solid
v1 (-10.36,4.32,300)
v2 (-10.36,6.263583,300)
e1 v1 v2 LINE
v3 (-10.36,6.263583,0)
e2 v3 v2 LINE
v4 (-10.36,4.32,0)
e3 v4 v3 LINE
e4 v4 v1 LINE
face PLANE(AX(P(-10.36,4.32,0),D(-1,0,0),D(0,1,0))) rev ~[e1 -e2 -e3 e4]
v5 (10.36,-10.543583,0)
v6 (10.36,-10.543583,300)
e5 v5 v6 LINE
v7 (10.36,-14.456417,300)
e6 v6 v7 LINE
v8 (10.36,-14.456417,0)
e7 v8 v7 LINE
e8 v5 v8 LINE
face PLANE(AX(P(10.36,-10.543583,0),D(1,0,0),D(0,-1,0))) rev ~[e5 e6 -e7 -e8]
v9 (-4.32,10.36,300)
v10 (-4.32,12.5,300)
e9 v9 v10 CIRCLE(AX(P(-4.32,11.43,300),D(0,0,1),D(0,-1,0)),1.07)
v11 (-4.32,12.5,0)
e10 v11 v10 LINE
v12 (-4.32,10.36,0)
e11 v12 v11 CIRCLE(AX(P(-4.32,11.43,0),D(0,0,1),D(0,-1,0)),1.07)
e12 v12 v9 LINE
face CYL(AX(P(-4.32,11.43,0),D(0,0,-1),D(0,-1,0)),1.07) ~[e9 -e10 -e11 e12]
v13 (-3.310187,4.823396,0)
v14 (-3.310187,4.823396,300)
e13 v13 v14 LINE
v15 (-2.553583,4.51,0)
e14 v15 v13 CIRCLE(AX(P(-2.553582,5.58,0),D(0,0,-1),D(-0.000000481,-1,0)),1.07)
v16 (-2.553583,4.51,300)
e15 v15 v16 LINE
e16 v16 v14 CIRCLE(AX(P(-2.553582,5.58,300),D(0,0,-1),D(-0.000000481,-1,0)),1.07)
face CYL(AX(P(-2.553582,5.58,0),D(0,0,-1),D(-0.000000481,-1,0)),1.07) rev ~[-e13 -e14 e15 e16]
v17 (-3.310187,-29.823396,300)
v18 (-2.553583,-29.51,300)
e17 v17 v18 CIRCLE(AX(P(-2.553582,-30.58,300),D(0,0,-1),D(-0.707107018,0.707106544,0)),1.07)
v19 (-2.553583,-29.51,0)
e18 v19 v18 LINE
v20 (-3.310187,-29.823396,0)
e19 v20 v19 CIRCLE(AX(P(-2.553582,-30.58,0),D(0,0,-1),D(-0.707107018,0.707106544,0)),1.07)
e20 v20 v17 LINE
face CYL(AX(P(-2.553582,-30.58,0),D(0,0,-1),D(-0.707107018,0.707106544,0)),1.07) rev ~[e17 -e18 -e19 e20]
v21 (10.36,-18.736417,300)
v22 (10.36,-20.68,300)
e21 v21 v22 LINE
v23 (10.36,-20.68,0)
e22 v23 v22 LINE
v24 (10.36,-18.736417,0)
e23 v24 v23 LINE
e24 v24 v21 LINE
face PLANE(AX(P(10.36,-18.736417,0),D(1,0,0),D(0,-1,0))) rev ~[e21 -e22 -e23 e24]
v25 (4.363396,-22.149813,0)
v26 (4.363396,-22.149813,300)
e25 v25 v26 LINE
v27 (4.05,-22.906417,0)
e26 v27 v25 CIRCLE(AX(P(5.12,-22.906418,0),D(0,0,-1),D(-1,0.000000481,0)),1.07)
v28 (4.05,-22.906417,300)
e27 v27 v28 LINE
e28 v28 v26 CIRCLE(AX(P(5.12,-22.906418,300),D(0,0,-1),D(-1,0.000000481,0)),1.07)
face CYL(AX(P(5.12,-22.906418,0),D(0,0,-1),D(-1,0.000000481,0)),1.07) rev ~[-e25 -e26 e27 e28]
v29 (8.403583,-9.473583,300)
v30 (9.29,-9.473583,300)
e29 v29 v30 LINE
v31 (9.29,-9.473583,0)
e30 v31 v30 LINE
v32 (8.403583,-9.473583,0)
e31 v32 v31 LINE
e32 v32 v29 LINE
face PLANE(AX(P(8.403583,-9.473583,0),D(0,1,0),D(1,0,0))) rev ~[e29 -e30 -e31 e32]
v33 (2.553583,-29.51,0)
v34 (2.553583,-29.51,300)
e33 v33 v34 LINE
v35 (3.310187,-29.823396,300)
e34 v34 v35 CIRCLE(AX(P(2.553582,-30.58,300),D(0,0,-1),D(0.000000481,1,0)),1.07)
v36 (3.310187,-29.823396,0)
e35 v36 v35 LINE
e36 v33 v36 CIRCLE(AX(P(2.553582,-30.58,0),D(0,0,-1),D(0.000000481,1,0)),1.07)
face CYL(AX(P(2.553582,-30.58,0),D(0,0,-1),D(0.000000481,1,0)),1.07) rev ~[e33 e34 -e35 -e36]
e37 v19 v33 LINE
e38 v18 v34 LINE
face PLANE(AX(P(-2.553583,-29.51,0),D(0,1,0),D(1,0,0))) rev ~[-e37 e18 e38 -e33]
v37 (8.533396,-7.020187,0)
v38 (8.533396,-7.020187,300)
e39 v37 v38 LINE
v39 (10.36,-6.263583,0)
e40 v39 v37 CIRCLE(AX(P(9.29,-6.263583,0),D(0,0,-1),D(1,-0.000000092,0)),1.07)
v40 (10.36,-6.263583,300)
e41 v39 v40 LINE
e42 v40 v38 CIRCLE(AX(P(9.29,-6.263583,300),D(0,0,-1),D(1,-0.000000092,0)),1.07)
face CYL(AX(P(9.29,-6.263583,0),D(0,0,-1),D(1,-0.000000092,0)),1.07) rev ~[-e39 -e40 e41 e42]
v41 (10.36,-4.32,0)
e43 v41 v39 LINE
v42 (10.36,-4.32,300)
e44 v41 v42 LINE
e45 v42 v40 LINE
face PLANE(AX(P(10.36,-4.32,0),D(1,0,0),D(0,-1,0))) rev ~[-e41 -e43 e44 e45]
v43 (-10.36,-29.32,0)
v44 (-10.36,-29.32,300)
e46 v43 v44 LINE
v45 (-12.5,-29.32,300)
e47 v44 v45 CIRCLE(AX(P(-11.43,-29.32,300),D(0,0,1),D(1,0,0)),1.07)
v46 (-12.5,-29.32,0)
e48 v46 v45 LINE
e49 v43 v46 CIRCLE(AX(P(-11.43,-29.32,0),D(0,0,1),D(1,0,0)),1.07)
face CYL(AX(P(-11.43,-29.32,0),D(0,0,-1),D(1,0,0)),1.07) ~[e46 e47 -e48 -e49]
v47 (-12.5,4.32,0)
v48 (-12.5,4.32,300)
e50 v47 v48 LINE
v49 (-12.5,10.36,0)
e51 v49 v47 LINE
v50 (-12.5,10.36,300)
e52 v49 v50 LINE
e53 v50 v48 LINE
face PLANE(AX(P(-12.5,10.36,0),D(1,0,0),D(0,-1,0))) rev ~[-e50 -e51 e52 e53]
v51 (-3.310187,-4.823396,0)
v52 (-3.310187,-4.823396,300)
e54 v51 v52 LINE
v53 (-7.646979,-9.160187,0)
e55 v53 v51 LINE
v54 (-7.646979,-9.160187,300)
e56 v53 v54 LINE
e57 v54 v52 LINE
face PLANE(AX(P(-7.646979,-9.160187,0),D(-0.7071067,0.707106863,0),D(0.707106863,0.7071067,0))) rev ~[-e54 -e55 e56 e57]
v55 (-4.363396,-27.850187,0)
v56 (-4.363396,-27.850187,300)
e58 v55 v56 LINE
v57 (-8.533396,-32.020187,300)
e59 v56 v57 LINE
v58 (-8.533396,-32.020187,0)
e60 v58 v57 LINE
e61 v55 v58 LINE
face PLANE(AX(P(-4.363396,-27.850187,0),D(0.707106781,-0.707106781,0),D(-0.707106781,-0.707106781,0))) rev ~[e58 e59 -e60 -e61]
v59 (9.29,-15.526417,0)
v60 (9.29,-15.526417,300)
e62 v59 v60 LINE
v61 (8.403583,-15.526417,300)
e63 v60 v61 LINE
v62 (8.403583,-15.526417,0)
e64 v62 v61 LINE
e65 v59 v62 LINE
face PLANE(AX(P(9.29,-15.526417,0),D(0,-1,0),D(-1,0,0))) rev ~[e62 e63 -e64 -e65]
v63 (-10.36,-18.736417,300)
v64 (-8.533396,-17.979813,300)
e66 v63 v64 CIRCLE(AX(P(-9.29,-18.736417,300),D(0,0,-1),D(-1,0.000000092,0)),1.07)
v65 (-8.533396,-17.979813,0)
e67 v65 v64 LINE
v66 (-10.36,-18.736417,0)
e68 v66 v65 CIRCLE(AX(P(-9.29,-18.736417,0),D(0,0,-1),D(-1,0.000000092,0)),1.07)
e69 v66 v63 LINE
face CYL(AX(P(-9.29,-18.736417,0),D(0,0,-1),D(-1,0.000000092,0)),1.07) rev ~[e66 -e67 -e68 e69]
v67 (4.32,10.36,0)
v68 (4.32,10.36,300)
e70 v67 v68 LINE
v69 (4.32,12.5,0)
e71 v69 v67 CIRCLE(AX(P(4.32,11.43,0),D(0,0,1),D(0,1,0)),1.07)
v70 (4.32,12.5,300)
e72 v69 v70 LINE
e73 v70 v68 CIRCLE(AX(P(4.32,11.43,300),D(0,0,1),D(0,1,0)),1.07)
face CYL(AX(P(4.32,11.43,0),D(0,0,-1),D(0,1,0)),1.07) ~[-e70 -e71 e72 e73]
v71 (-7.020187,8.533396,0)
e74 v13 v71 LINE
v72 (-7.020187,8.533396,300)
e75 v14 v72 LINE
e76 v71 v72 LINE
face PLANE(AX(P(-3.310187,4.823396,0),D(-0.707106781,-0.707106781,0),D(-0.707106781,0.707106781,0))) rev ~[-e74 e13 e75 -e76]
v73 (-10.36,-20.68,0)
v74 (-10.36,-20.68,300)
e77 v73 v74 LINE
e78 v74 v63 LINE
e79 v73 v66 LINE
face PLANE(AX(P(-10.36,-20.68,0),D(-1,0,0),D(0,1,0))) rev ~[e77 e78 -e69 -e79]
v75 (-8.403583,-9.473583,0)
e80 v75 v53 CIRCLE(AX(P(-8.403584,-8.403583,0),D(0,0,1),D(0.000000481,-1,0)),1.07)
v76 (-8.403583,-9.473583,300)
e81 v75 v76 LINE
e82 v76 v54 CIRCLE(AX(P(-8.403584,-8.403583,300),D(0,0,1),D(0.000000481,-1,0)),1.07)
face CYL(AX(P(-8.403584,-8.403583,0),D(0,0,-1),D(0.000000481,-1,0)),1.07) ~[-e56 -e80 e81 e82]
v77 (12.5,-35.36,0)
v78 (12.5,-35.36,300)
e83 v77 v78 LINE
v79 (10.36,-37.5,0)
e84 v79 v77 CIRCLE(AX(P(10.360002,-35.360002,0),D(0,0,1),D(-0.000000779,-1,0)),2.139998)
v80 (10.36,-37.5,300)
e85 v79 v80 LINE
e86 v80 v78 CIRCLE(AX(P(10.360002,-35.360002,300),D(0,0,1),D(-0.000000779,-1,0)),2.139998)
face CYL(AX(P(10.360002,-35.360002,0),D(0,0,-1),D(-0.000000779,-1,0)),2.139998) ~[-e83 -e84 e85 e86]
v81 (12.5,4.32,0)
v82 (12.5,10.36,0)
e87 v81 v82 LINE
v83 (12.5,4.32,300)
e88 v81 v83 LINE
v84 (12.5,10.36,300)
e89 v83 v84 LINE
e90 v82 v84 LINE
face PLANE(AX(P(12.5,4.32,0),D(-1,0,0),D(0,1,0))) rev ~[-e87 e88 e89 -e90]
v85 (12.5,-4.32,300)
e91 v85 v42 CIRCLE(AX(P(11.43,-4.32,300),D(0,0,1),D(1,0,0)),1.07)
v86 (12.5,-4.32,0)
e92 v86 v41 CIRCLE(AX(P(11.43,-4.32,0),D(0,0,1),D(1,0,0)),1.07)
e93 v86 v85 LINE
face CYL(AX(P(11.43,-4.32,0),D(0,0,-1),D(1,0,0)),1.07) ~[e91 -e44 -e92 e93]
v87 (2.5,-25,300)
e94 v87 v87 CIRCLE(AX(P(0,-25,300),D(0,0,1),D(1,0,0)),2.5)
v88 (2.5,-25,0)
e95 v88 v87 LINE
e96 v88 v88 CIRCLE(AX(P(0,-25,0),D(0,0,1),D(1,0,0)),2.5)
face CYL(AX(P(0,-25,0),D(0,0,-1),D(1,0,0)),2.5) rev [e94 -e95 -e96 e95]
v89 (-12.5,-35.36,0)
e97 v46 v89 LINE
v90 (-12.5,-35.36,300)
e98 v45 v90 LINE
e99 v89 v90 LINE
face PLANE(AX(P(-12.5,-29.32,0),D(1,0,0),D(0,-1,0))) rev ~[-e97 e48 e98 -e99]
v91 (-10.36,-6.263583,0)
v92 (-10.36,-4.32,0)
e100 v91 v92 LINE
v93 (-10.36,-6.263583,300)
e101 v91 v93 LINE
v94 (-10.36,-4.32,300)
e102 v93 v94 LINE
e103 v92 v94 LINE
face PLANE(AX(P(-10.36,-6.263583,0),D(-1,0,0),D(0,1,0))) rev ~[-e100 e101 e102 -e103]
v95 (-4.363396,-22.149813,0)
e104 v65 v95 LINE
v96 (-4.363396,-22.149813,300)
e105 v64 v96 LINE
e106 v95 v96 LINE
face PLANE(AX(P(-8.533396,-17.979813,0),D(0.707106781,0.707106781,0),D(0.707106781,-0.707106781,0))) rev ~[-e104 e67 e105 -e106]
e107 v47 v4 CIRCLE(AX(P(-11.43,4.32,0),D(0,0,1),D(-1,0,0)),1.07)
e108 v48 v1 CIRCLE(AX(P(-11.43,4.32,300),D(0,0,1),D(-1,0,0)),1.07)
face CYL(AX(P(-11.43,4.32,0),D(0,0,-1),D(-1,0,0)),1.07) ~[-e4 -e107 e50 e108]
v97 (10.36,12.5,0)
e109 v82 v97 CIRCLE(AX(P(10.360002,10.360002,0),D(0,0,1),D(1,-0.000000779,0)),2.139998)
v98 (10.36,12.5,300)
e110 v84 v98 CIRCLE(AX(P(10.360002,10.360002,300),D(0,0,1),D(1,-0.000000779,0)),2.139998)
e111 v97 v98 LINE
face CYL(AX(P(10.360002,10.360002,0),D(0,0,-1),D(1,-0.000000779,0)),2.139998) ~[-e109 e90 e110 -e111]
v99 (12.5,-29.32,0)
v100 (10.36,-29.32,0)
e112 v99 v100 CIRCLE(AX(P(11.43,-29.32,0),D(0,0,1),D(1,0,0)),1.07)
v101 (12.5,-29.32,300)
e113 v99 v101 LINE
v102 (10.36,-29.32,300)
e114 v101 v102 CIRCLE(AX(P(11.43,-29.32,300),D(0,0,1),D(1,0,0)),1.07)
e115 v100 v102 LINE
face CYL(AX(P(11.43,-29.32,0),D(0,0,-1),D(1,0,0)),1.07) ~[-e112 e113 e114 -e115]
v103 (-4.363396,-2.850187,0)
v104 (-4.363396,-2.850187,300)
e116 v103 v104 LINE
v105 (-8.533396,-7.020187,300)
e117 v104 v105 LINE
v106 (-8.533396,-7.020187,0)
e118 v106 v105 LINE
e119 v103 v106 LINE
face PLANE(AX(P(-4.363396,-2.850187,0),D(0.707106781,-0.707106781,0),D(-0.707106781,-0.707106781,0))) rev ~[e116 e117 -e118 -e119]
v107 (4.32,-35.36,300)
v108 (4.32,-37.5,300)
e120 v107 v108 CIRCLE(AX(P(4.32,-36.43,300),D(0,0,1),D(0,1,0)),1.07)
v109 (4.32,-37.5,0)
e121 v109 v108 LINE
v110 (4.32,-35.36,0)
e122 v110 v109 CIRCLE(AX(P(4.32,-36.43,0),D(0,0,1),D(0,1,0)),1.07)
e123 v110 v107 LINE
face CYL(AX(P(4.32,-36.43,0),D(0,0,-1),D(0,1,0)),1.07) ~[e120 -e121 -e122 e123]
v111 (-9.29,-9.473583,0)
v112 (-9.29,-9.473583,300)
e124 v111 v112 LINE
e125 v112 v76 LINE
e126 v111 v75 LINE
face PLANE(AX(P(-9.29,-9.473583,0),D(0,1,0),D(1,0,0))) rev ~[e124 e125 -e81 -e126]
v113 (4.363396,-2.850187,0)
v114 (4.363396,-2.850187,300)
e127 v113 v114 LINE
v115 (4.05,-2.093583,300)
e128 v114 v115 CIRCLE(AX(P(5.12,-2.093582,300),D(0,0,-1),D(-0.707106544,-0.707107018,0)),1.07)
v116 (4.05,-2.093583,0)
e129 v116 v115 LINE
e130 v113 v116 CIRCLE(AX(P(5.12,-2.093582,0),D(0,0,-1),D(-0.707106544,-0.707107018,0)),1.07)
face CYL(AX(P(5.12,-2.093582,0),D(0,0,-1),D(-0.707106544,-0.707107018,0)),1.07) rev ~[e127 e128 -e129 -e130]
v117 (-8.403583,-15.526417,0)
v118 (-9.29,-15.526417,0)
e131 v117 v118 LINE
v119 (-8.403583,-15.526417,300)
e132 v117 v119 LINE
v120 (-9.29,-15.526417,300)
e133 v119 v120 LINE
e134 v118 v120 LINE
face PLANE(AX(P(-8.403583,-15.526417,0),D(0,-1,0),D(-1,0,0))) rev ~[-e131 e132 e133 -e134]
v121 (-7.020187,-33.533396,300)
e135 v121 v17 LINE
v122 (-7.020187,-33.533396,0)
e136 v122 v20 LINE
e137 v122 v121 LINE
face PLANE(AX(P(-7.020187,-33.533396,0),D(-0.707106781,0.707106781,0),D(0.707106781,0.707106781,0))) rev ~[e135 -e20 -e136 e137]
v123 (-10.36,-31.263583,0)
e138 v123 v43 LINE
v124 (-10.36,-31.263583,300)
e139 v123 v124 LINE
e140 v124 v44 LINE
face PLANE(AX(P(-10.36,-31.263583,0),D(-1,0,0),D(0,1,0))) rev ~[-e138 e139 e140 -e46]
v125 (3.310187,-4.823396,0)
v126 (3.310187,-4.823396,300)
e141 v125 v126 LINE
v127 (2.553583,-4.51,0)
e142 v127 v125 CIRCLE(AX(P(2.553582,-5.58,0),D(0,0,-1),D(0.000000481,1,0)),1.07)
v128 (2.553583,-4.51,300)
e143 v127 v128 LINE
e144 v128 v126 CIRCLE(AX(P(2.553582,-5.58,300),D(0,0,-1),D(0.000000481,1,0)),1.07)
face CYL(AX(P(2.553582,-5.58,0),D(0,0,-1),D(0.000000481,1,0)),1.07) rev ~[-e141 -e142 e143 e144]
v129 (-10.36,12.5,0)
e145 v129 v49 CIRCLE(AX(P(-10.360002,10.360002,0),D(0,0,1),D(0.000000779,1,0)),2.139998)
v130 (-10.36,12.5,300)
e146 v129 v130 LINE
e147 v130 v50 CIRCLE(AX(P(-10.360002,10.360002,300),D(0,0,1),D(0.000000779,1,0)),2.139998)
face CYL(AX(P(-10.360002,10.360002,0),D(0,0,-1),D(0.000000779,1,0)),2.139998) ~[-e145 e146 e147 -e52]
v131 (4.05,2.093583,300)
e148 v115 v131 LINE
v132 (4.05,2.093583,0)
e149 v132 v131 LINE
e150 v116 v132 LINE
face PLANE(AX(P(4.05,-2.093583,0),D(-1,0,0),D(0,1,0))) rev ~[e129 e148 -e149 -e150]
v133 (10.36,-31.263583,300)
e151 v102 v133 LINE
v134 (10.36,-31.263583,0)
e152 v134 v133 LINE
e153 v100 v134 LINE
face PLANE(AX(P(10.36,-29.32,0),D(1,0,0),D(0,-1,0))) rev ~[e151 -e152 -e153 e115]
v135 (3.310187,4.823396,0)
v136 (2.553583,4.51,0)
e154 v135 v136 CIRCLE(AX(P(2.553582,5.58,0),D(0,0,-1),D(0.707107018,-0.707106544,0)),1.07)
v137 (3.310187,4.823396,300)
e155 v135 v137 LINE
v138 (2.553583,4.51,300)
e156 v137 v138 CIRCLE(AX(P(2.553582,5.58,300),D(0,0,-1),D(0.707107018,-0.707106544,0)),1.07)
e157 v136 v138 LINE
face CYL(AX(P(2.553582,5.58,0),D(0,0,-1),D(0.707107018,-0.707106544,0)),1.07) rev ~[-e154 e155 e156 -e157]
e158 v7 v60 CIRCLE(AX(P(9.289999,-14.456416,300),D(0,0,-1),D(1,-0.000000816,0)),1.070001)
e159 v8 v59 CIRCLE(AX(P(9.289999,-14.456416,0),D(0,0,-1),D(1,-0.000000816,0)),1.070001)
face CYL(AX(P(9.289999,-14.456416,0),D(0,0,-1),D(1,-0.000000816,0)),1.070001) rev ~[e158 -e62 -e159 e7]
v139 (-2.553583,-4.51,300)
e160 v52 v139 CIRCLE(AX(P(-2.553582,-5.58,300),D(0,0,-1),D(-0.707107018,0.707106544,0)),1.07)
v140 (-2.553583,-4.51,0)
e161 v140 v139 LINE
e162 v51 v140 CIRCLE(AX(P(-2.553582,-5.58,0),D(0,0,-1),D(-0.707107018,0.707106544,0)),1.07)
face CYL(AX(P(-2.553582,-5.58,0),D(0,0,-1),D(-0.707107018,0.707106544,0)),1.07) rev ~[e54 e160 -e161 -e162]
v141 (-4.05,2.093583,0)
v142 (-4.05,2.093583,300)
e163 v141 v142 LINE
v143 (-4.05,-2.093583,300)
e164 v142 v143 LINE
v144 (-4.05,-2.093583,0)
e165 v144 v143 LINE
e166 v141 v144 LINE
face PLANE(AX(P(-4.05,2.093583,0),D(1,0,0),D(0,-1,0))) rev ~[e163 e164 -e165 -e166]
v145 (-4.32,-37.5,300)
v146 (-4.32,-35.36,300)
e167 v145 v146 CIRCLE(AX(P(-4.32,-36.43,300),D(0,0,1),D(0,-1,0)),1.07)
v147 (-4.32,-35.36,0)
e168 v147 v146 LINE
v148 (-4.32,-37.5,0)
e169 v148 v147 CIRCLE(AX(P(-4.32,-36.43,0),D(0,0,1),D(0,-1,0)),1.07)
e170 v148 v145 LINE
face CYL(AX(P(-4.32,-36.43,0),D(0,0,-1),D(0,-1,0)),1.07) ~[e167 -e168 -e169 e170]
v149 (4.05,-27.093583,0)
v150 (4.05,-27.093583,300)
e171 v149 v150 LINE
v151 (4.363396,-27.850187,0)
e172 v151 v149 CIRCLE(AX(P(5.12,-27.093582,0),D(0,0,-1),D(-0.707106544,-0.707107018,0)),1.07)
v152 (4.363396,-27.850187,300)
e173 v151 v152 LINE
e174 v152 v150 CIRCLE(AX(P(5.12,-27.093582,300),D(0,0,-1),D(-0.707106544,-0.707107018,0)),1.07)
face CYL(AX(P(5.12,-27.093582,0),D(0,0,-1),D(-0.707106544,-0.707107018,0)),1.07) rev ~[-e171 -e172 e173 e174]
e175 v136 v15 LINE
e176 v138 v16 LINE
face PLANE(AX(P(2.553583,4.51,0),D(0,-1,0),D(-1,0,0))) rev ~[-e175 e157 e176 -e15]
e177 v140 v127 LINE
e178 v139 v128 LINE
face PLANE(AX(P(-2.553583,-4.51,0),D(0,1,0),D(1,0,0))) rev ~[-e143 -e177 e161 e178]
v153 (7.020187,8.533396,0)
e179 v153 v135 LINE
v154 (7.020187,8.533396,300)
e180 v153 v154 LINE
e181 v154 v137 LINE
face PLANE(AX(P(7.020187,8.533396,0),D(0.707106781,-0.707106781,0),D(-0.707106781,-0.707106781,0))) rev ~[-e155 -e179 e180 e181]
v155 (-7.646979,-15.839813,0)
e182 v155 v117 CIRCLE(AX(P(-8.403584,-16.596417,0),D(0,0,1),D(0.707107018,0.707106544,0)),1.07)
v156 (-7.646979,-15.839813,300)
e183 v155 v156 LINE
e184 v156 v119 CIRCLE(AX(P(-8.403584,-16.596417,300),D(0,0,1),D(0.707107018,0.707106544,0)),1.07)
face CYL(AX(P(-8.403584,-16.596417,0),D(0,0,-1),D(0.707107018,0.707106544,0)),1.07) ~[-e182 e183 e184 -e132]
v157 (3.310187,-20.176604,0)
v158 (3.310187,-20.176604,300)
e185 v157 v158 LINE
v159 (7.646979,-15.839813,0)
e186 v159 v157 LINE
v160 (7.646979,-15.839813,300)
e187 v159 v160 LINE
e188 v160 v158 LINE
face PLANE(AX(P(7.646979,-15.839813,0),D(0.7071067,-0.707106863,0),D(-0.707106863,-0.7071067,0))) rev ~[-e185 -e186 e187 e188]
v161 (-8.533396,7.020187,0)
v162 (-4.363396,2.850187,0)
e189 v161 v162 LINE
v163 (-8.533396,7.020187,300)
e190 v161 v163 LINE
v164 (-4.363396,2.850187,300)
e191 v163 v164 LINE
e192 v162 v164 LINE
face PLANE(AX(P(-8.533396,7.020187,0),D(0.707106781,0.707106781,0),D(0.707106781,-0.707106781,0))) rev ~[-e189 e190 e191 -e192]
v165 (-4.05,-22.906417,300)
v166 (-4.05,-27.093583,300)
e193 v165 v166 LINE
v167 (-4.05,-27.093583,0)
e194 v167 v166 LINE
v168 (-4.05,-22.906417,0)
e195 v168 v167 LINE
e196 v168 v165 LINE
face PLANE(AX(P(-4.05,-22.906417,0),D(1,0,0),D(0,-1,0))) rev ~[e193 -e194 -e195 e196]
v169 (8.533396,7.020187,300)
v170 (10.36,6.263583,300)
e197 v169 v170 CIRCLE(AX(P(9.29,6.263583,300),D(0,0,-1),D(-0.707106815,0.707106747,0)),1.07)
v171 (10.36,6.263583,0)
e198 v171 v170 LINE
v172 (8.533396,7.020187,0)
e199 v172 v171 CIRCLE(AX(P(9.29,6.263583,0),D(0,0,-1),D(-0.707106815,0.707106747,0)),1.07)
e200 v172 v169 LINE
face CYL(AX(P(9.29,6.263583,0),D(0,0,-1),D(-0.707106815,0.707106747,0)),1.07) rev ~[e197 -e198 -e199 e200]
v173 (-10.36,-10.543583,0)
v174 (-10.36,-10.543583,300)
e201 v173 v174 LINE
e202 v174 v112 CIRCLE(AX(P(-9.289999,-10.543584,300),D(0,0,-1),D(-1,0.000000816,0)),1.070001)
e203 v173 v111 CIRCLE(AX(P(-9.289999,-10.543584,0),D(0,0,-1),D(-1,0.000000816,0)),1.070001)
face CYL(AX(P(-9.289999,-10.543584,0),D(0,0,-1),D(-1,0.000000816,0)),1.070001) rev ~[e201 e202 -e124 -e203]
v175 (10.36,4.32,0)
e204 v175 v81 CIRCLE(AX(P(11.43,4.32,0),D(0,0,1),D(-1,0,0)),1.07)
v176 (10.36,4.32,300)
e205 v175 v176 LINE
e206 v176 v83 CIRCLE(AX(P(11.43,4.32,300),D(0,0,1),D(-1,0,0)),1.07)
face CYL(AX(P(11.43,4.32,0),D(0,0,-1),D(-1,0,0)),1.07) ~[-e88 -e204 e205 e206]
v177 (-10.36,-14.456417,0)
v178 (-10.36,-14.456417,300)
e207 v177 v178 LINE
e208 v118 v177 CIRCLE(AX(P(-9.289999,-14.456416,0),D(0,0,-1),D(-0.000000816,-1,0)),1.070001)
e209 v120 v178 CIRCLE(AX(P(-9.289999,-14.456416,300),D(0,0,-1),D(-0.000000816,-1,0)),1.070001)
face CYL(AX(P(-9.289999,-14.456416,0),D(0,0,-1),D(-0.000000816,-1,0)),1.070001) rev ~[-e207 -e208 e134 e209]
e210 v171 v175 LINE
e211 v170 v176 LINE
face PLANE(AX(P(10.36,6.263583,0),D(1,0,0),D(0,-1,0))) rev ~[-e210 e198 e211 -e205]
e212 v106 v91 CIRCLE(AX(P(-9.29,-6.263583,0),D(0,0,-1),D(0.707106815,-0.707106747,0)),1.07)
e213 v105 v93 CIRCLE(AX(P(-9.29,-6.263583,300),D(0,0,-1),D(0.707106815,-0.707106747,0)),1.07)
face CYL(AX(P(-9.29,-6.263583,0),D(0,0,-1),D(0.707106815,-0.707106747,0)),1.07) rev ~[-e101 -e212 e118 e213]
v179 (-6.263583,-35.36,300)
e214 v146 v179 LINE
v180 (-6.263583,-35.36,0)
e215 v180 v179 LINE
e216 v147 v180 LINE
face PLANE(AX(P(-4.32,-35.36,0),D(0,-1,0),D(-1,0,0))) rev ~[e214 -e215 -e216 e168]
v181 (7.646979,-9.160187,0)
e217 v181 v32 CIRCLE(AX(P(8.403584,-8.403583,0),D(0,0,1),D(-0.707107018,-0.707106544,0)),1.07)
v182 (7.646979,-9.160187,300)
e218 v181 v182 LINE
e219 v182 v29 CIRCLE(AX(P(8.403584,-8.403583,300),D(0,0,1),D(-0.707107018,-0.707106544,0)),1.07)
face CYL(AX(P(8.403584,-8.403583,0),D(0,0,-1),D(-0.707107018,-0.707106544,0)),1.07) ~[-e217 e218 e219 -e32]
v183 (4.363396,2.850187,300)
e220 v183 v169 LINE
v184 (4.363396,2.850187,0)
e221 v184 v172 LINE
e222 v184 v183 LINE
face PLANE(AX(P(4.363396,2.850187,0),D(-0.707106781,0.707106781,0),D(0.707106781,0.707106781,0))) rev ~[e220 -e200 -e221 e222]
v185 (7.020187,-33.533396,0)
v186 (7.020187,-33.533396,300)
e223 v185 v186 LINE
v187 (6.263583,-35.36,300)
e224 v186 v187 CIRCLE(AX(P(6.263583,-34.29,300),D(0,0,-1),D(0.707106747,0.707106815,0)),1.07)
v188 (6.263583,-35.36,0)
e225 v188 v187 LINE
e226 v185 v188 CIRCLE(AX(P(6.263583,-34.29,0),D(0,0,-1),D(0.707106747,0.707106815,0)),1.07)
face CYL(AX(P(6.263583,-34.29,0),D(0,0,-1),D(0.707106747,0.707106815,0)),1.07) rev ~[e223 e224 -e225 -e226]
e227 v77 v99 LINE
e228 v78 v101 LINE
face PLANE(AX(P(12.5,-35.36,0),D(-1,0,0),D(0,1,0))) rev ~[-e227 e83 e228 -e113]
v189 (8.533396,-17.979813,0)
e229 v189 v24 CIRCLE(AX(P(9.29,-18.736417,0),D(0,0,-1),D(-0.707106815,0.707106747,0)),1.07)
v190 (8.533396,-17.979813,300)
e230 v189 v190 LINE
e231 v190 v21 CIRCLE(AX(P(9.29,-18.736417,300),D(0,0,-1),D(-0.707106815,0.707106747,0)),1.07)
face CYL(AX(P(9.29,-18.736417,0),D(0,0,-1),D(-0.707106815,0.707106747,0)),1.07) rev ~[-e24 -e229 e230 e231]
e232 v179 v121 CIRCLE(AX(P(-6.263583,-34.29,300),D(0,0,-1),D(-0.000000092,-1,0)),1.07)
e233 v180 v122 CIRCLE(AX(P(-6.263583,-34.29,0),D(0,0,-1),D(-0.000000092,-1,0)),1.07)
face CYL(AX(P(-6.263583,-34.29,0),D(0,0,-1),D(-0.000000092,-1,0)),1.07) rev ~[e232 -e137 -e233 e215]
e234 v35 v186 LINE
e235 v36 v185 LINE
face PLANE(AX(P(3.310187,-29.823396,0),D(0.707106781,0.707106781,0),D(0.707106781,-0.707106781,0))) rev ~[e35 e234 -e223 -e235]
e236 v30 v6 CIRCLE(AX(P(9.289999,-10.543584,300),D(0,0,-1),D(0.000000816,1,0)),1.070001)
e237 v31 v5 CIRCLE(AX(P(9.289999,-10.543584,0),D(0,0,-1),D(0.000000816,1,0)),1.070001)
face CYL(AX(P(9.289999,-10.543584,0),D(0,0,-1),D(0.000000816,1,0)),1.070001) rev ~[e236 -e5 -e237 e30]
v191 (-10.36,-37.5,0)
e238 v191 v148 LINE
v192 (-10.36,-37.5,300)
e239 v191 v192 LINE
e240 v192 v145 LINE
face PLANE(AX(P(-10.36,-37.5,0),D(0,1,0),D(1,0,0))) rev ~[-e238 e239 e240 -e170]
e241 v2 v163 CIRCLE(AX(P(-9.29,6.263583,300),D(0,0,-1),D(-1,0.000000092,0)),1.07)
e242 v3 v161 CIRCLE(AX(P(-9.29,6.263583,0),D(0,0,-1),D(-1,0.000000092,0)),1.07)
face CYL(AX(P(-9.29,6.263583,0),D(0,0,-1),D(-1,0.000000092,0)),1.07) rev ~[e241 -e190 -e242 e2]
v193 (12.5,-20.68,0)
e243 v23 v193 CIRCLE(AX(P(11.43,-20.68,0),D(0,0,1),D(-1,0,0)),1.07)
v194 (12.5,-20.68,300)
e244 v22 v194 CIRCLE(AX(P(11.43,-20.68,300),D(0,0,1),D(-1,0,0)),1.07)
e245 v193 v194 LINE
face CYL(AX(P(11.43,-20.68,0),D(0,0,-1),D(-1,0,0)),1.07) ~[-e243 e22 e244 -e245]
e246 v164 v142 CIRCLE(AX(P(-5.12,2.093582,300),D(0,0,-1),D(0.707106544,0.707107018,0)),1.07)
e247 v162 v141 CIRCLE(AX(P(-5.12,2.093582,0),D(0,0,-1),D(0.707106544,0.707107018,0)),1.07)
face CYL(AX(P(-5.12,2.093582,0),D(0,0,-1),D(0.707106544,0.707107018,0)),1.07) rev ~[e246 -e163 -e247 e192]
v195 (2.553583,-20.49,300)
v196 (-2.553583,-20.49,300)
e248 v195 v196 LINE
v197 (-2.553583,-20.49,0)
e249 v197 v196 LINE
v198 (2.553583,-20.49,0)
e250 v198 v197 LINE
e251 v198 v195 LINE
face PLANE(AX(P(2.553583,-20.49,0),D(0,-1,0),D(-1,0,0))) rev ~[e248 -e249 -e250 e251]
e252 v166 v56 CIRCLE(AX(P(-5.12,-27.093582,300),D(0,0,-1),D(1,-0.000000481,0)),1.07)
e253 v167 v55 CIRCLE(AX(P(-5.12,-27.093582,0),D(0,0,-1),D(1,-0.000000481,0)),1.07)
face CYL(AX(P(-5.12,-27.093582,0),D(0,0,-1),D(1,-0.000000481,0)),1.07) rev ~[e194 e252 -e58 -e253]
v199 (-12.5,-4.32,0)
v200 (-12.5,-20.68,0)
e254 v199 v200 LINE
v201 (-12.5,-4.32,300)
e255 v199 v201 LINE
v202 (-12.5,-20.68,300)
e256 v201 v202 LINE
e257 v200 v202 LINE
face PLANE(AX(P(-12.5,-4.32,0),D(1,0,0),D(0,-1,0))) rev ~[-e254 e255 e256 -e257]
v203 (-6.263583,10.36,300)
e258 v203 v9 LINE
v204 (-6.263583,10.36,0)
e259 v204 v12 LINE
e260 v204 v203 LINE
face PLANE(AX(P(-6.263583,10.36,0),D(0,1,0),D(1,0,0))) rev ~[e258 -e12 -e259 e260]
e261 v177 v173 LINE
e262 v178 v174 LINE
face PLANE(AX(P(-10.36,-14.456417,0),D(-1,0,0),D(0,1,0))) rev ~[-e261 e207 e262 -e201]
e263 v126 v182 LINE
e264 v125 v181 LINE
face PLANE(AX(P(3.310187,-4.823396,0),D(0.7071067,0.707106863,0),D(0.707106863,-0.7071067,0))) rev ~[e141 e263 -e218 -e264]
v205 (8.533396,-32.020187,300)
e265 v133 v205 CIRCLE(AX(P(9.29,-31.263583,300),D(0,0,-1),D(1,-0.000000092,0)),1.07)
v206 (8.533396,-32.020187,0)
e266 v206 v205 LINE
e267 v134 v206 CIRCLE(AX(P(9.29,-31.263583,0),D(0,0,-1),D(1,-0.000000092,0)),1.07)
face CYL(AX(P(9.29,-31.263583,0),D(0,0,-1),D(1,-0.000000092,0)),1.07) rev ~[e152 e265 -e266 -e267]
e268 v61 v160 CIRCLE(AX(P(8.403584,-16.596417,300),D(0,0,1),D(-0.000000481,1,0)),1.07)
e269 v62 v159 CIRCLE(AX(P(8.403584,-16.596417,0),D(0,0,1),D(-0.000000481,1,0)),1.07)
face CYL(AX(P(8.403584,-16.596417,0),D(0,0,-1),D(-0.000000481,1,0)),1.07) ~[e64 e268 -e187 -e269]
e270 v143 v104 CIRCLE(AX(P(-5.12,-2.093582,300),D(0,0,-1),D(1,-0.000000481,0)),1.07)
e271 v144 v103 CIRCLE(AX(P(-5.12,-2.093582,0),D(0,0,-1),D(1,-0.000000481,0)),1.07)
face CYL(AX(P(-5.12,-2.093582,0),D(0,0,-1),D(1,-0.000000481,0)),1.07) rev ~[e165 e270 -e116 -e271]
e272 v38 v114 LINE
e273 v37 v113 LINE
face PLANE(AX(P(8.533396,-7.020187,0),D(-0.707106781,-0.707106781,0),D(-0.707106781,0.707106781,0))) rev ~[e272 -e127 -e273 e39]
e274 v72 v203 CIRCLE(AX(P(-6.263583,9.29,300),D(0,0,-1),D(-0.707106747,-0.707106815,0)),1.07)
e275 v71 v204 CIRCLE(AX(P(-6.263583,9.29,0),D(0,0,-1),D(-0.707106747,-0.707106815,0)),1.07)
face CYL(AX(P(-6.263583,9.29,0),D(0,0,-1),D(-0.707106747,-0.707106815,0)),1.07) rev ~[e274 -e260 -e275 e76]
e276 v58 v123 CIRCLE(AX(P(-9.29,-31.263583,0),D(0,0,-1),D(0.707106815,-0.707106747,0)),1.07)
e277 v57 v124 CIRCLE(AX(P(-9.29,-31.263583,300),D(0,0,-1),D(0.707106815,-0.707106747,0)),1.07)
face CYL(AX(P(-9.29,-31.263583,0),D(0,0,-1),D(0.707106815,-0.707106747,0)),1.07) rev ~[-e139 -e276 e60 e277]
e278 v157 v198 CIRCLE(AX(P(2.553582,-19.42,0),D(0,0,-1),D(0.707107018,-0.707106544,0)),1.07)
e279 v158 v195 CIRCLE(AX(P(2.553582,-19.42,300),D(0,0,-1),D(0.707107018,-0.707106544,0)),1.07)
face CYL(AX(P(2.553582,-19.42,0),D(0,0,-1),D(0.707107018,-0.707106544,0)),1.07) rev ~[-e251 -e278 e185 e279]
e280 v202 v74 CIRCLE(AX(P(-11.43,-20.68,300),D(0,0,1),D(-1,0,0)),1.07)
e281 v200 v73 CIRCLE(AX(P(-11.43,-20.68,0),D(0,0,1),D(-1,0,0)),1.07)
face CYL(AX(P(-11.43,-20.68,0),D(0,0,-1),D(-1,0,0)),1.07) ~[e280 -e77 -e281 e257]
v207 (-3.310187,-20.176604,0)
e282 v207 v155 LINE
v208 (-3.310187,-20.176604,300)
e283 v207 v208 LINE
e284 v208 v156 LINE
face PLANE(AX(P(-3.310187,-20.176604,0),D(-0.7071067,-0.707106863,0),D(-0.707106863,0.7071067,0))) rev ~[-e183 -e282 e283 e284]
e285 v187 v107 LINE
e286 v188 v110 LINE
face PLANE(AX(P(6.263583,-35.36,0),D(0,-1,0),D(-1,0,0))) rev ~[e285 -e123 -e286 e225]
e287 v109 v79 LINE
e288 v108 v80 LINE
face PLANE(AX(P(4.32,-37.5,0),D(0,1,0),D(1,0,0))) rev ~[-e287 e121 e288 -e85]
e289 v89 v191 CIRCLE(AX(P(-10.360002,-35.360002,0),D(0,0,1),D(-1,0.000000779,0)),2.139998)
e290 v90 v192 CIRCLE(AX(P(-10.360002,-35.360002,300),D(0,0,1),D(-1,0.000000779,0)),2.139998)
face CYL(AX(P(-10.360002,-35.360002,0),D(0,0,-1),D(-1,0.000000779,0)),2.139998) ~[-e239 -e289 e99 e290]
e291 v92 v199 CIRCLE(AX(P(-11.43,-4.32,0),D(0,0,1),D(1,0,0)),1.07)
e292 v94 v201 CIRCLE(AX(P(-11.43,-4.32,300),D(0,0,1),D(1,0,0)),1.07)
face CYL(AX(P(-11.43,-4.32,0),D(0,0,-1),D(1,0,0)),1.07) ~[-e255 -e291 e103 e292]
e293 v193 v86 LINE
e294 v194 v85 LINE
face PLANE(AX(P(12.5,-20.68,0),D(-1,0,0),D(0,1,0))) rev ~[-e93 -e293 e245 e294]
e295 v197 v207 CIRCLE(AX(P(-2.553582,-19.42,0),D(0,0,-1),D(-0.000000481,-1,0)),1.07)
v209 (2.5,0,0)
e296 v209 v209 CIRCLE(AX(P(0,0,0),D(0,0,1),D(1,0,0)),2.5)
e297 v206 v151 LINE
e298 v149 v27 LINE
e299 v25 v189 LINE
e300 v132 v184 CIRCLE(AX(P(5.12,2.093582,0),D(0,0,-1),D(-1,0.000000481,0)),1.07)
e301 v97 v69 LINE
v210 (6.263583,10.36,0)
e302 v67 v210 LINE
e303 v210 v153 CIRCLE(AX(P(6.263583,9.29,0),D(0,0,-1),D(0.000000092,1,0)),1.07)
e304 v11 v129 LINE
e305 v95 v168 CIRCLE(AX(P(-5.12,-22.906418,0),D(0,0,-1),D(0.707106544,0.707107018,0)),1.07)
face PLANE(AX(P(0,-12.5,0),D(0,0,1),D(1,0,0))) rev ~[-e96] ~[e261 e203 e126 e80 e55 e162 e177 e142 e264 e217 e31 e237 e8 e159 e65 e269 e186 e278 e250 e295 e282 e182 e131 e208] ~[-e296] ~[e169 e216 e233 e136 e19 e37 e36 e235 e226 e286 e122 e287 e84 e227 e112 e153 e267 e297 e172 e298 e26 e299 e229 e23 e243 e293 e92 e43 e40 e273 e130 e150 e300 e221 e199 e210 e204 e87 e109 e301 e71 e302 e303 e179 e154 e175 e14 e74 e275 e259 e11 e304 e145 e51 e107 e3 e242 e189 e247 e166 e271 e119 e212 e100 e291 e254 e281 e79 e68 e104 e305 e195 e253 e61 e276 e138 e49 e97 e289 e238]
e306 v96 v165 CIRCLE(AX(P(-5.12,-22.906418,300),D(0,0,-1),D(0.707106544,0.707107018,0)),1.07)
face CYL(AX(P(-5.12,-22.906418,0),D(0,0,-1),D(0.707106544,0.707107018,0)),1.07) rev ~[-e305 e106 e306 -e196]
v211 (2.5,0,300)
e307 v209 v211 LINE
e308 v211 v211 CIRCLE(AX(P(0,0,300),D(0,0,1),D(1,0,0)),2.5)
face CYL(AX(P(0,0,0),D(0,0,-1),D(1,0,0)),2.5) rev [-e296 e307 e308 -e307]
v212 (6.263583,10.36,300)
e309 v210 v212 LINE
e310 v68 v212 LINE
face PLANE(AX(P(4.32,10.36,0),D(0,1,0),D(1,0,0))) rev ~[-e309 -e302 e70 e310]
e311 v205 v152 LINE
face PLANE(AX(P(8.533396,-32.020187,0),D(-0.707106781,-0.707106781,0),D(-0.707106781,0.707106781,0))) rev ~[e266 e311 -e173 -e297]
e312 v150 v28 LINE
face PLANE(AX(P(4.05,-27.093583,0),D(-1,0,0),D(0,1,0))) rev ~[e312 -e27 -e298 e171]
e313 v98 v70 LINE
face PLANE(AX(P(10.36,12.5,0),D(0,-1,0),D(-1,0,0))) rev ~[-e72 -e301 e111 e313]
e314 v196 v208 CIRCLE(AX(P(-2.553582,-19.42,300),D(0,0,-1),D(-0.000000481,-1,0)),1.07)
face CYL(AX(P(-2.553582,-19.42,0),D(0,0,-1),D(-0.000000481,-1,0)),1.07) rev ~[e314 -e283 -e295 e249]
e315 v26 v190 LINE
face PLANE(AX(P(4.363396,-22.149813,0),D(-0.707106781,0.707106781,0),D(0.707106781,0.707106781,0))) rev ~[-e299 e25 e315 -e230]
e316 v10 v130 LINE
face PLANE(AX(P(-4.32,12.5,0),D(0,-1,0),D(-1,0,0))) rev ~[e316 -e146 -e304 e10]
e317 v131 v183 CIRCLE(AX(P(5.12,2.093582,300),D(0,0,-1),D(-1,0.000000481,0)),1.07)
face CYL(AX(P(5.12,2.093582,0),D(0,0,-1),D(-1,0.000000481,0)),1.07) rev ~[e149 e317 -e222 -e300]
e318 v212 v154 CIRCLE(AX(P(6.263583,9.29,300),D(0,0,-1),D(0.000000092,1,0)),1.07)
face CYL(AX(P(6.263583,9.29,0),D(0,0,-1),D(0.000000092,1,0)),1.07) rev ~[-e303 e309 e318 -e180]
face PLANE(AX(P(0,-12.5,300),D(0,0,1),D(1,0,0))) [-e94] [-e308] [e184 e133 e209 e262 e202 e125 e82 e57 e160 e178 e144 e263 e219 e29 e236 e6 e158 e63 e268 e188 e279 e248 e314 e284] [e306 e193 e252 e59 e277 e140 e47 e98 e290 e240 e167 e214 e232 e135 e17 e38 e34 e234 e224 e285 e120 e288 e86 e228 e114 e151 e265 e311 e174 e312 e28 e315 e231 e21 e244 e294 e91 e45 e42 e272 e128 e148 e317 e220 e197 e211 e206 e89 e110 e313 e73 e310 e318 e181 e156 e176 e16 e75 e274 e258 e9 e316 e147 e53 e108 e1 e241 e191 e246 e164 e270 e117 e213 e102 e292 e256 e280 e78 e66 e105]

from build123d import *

# Parameters (mm, degrees)
F0_R     = 2.5
F1_DEPTH = 300


with BuildPart() as f1:
    # F0 (on Top) → F1 (new body)
    with BuildSketch(Plane.XY):
        with BuildLine():
            ThreePointArc((-10.36, 12.5), (-11.873209, 11.873209), (-12.5, 10.36))
            Line((-12.5, 10.36), (-12.5, 4.32))
            ThreePointArc((-12.5, 4.32), (-11.43, 3.25), (-10.36, 4.32))
            Line((-10.36, 4.32), (-10.36, 6.263583))
            ThreePointArc((-10.36, 6.263583), (-9.699471, 7.252134), (-8.533396, 7.020187))
            Line((-8.533396, 7.020187), (-4.363396, 2.850187))
            ThreePointArc((-4.363396, 2.850187), (-4.131449, 2.503054), (-4.05, 2.093583))
            Line((-4.05, 2.093583), (-4.05, 0))
            Line((-4.05, 0), (-4.05, -2.093583))
            ThreePointArc((-4.05, -2.093583), (-4.131449, -2.503054), (-4.363396, -2.850187))
            Line((-4.363396, -2.850187), (-8.533396, -7.020187))
            ThreePointArc((-8.533396, -7.020187), (-9.699471, -7.252134), (-10.36, -6.263583))
            Line((-10.36, -6.263583), (-10.36, -4.32))
            ThreePointArc((-10.36, -4.32), (-11.43, -3.25), (-12.5, -4.32))
            Line((-12.5, -4.32), (-12.5, -12.5))
            Line((-12.5, -12.5), (-12.5, -20.68))
            ThreePointArc((-12.5, -20.68), (-11.43, -21.75), (-10.36, -20.68))
            Line((-10.36, -20.68), (-10.36, -18.736417))
            ThreePointArc((-10.36, -18.736417), (-9.699471, -17.747866), (-8.533396, -17.979813))
            Line((-8.533396, -17.979813), (-4.363396, -22.149813))
            ThreePointArc((-4.363396, -22.149813), (-4.131449, -22.496946), (-4.05, -22.906417))
            Line((-4.05, -22.906417), (-4.05, -25))
            Line((-4.05, -25), (-4.05, -27.093583))
            ThreePointArc((-4.05, -27.093583), (-4.131449, -27.503054), (-4.363396, -27.850187))
            Line((-4.363396, -27.850187), (-8.533396, -32.020187))
            ThreePointArc((-8.533396, -32.020187), (-9.699471, -32.252134), (-10.36, -31.263583))
            Line((-10.36, -31.263583), (-10.36, -29.32))
            ThreePointArc((-10.36, -29.32), (-11.43, -28.25), (-12.5, -29.32))
            Line((-12.5, -29.32), (-12.5, -35.36))
            ThreePointArc((-12.5, -35.36), (-11.873209, -36.873209), (-10.36, -37.5))
            Line((-10.36, -37.5), (-4.32, -37.5))
            ThreePointArc((-4.32, -37.5), (-3.25, -36.43), (-4.32, -35.36))
            Line((-4.32, -35.36), (-6.263583, -35.36))
            ThreePointArc((-6.263583, -35.36), (-7.252134, -34.699471), (-7.020187, -33.533396))
            Line((-7.020187, -33.533396), (-3.310187, -29.823396))
            ThreePointArc((-3.310187, -29.823396), (-2.963054, -29.591449), (-2.553583, -29.51))
            Line((-2.553583, -29.51), (0, -29.51))
            Line((0, -29.51), (2.553583, -29.51))
            ThreePointArc((2.553583, -29.51), (2.963054, -29.591449), (3.310187, -29.823396))
            Line((3.310187, -29.823396), (7.020187, -33.533396))
            ThreePointArc((7.020187, -33.533396), (7.252134, -34.699471), (6.263583, -35.36))
            Line((6.263583, -35.36), (4.32, -35.36))
            ThreePointArc((4.32, -35.36), (3.25, -36.43), (4.32, -37.5))
            Line((4.32, -37.5), (10.36, -37.5))
            ThreePointArc((10.36, -37.5), (11.873209, -36.873209), (12.5, -35.36))
            Line((12.5, -35.36), (12.5, -29.32))
            ThreePointArc((12.5, -29.32), (11.43, -28.25), (10.36, -29.32))
            Line((10.36, -29.32), (10.36, -31.263583))
            ThreePointArc((10.36, -31.263583), (9.699471, -32.252134), (8.533396, -32.020187))
            Line((8.533396, -32.020187), (4.363396, -27.850187))
            ThreePointArc((4.363396, -27.850187), (4.131449, -27.503054), (4.05, -27.093583))
            Line((4.05, -27.093583), (4.05, -25))
            Line((4.05, -25), (4.05, -22.906417))
            ThreePointArc((4.05, -22.906417), (4.131449, -22.496946), (4.363396, -22.149813))
            Line((4.363396, -22.149813), (8.533396, -17.979813))
            ThreePointArc((8.533396, -17.979813), (9.699471, -17.747866), (10.36, -18.736417))
            Line((10.36, -18.736417), (10.36, -20.68))
            ThreePointArc((10.36, -20.68), (11.43, -21.75), (12.5, -20.68))
            Line((12.5, -20.68), (12.5, -12.5))
            Line((12.5, -12.5), (12.5, -4.32))
            ThreePointArc((12.5, -4.32), (11.43, -3.25), (10.36, -4.32))
            Line((10.36, -4.32), (10.36, -6.263583))
            ThreePointArc((10.36, -6.263583), (9.699471, -7.252134), (8.533396, -7.020187))
            Line((8.533396, -7.020187), (4.363396, -2.850187))
            ThreePointArc((4.363396, -2.850187), (4.131449, -2.503054), (4.05, -2.093583))
            Line((4.05, -2.093583), (4.05, 0))
            Line((4.05, 0), (4.05, 2.093583))
            ThreePointArc((4.05, 2.093583), (4.131449, 2.503054), (4.363396, 2.850187))
            Line((4.363396, 2.850187), (8.533396, 7.020187))
            ThreePointArc((8.533396, 7.020187), (9.699471, 7.252134), (10.36, 6.263583))
            Line((10.36, 6.263583), (10.36, 4.32))
            ThreePointArc((10.36, 4.32), (11.43, 3.25), (12.5, 4.32))
            Line((12.5, 4.32), (12.5, 10.36))
            ThreePointArc((12.5, 10.36), (11.873209, 11.873209), (10.36, 12.5))
            Line((10.36, 12.5), (4.32, 12.5))
            ThreePointArc((4.32, 12.5), (3.25, 11.43), (4.32, 10.36))
            Line((4.32, 10.36), (6.263583, 10.36))
            ThreePointArc((6.263583, 10.36), (7.252134, 9.699471), (7.020187, 8.533396))
            Line((7.020187, 8.533396), (3.310187, 4.823396))
            ThreePointArc((3.310187, 4.823396), (2.963054, 4.591449), (2.553583, 4.51))
            Line((2.553583, 4.51), (0, 4.51))
            Line((0, 4.51), (-2.553583, 4.51))
            ThreePointArc((-2.553583, 4.51), (-2.963054, 4.591449), (-3.310187, 4.823396))
            Line((-3.310187, 4.823396), (-7.020187, 8.533396))
            ThreePointArc((-7.020187, 8.533396), (-7.252134, 9.699471), (-6.263583, 10.36))
            Line((-6.263583, 10.36), (-4.32, 10.36))
            ThreePointArc((-4.32, 10.36), (-3.25, 11.43), (-4.32, 12.5))
            Line((-4.32, 12.5), (-10.36, 12.5))
        make_face()
        with Locations((0, -25)):
            Circle(F0_R, mode=Mode.SUBTRACT)
        with BuildLine():
            Line((-2.553583, -4.51), (0, -4.51))
            Line((0, -4.51), (2.553583, -4.51))
            ThreePointArc((2.553583, -4.51), (2.963054, -4.591449), (3.310187, -4.823396))
            Line((3.310187, -4.823396), (7.646979, -9.160187))
            ThreePointArc((7.646979, -9.160187), (7.994112, -9.392134), (8.403583, -9.473583))
            Line((8.403583, -9.473583), (9.29, -9.473583))
            ThreePointArc((9.29, -9.473583), (10.046604, -9.786979), (10.36, -10.543583))
            Line((10.36, -10.543583), (10.36, -12.5))
            Line((10.36, -12.5), (10.36, -14.456417))
            ThreePointArc((10.36, -14.456417), (10.046604, -15.213021), (9.29, -15.526417))
            Line((9.29, -15.526417), (8.403583, -15.526417))
            ThreePointArc((8.403583, -15.526417), (7.994112, -15.607866), (7.646979, -15.839813))
            Line((7.646979, -15.839813), (3.310187, -20.176604))
            ThreePointArc((3.310187, -20.176604), (2.963054, -20.408551), (2.553583, -20.49))
            Line((2.553583, -20.49), (0, -20.49))
            Line((0, -20.49), (-2.553583, -20.49))
            ThreePointArc((-2.553583, -20.49), (-2.963054, -20.408551), (-3.310187, -20.176604))
            Line((-3.310187, -20.176604), (-7.646979, -15.839813))
            ThreePointArc((-7.646979, -15.839813), (-7.994112, -15.607866), (-8.403583, -15.526417))
            Line((-8.403583, -15.526417), (-9.29, -15.526417))
            ThreePointArc((-9.29, -15.526417), (-10.046604, -15.213021), (-10.36, -14.456417))
            Line((-10.36, -14.456417), (-10.36, -12.5))
            Line((-10.36, -12.5), (-10.36, -10.543583))
            ThreePointArc((-10.36, -10.543583), (-10.046604, -9.786979), (-9.29, -9.473583))
            Line((-9.29, -9.473583), (-8.403583, -9.473583))
            ThreePointArc((-8.403583, -9.473583), (-7.994112, -9.392134), (-7.646979, -9.160187))
            Line((-7.646979, -9.160187), (-3.310187, -4.823396))
            ThreePointArc((-3.310187, -4.823396), (-2.963054, -4.591449), (-2.553583, -4.51))
        make_face(mode=Mode.SUBTRACT)
        Circle(F0_R, mode=Mode.SUBTRACT)
    extrude(amount=F1_DEPTH)


solid = f1.part
